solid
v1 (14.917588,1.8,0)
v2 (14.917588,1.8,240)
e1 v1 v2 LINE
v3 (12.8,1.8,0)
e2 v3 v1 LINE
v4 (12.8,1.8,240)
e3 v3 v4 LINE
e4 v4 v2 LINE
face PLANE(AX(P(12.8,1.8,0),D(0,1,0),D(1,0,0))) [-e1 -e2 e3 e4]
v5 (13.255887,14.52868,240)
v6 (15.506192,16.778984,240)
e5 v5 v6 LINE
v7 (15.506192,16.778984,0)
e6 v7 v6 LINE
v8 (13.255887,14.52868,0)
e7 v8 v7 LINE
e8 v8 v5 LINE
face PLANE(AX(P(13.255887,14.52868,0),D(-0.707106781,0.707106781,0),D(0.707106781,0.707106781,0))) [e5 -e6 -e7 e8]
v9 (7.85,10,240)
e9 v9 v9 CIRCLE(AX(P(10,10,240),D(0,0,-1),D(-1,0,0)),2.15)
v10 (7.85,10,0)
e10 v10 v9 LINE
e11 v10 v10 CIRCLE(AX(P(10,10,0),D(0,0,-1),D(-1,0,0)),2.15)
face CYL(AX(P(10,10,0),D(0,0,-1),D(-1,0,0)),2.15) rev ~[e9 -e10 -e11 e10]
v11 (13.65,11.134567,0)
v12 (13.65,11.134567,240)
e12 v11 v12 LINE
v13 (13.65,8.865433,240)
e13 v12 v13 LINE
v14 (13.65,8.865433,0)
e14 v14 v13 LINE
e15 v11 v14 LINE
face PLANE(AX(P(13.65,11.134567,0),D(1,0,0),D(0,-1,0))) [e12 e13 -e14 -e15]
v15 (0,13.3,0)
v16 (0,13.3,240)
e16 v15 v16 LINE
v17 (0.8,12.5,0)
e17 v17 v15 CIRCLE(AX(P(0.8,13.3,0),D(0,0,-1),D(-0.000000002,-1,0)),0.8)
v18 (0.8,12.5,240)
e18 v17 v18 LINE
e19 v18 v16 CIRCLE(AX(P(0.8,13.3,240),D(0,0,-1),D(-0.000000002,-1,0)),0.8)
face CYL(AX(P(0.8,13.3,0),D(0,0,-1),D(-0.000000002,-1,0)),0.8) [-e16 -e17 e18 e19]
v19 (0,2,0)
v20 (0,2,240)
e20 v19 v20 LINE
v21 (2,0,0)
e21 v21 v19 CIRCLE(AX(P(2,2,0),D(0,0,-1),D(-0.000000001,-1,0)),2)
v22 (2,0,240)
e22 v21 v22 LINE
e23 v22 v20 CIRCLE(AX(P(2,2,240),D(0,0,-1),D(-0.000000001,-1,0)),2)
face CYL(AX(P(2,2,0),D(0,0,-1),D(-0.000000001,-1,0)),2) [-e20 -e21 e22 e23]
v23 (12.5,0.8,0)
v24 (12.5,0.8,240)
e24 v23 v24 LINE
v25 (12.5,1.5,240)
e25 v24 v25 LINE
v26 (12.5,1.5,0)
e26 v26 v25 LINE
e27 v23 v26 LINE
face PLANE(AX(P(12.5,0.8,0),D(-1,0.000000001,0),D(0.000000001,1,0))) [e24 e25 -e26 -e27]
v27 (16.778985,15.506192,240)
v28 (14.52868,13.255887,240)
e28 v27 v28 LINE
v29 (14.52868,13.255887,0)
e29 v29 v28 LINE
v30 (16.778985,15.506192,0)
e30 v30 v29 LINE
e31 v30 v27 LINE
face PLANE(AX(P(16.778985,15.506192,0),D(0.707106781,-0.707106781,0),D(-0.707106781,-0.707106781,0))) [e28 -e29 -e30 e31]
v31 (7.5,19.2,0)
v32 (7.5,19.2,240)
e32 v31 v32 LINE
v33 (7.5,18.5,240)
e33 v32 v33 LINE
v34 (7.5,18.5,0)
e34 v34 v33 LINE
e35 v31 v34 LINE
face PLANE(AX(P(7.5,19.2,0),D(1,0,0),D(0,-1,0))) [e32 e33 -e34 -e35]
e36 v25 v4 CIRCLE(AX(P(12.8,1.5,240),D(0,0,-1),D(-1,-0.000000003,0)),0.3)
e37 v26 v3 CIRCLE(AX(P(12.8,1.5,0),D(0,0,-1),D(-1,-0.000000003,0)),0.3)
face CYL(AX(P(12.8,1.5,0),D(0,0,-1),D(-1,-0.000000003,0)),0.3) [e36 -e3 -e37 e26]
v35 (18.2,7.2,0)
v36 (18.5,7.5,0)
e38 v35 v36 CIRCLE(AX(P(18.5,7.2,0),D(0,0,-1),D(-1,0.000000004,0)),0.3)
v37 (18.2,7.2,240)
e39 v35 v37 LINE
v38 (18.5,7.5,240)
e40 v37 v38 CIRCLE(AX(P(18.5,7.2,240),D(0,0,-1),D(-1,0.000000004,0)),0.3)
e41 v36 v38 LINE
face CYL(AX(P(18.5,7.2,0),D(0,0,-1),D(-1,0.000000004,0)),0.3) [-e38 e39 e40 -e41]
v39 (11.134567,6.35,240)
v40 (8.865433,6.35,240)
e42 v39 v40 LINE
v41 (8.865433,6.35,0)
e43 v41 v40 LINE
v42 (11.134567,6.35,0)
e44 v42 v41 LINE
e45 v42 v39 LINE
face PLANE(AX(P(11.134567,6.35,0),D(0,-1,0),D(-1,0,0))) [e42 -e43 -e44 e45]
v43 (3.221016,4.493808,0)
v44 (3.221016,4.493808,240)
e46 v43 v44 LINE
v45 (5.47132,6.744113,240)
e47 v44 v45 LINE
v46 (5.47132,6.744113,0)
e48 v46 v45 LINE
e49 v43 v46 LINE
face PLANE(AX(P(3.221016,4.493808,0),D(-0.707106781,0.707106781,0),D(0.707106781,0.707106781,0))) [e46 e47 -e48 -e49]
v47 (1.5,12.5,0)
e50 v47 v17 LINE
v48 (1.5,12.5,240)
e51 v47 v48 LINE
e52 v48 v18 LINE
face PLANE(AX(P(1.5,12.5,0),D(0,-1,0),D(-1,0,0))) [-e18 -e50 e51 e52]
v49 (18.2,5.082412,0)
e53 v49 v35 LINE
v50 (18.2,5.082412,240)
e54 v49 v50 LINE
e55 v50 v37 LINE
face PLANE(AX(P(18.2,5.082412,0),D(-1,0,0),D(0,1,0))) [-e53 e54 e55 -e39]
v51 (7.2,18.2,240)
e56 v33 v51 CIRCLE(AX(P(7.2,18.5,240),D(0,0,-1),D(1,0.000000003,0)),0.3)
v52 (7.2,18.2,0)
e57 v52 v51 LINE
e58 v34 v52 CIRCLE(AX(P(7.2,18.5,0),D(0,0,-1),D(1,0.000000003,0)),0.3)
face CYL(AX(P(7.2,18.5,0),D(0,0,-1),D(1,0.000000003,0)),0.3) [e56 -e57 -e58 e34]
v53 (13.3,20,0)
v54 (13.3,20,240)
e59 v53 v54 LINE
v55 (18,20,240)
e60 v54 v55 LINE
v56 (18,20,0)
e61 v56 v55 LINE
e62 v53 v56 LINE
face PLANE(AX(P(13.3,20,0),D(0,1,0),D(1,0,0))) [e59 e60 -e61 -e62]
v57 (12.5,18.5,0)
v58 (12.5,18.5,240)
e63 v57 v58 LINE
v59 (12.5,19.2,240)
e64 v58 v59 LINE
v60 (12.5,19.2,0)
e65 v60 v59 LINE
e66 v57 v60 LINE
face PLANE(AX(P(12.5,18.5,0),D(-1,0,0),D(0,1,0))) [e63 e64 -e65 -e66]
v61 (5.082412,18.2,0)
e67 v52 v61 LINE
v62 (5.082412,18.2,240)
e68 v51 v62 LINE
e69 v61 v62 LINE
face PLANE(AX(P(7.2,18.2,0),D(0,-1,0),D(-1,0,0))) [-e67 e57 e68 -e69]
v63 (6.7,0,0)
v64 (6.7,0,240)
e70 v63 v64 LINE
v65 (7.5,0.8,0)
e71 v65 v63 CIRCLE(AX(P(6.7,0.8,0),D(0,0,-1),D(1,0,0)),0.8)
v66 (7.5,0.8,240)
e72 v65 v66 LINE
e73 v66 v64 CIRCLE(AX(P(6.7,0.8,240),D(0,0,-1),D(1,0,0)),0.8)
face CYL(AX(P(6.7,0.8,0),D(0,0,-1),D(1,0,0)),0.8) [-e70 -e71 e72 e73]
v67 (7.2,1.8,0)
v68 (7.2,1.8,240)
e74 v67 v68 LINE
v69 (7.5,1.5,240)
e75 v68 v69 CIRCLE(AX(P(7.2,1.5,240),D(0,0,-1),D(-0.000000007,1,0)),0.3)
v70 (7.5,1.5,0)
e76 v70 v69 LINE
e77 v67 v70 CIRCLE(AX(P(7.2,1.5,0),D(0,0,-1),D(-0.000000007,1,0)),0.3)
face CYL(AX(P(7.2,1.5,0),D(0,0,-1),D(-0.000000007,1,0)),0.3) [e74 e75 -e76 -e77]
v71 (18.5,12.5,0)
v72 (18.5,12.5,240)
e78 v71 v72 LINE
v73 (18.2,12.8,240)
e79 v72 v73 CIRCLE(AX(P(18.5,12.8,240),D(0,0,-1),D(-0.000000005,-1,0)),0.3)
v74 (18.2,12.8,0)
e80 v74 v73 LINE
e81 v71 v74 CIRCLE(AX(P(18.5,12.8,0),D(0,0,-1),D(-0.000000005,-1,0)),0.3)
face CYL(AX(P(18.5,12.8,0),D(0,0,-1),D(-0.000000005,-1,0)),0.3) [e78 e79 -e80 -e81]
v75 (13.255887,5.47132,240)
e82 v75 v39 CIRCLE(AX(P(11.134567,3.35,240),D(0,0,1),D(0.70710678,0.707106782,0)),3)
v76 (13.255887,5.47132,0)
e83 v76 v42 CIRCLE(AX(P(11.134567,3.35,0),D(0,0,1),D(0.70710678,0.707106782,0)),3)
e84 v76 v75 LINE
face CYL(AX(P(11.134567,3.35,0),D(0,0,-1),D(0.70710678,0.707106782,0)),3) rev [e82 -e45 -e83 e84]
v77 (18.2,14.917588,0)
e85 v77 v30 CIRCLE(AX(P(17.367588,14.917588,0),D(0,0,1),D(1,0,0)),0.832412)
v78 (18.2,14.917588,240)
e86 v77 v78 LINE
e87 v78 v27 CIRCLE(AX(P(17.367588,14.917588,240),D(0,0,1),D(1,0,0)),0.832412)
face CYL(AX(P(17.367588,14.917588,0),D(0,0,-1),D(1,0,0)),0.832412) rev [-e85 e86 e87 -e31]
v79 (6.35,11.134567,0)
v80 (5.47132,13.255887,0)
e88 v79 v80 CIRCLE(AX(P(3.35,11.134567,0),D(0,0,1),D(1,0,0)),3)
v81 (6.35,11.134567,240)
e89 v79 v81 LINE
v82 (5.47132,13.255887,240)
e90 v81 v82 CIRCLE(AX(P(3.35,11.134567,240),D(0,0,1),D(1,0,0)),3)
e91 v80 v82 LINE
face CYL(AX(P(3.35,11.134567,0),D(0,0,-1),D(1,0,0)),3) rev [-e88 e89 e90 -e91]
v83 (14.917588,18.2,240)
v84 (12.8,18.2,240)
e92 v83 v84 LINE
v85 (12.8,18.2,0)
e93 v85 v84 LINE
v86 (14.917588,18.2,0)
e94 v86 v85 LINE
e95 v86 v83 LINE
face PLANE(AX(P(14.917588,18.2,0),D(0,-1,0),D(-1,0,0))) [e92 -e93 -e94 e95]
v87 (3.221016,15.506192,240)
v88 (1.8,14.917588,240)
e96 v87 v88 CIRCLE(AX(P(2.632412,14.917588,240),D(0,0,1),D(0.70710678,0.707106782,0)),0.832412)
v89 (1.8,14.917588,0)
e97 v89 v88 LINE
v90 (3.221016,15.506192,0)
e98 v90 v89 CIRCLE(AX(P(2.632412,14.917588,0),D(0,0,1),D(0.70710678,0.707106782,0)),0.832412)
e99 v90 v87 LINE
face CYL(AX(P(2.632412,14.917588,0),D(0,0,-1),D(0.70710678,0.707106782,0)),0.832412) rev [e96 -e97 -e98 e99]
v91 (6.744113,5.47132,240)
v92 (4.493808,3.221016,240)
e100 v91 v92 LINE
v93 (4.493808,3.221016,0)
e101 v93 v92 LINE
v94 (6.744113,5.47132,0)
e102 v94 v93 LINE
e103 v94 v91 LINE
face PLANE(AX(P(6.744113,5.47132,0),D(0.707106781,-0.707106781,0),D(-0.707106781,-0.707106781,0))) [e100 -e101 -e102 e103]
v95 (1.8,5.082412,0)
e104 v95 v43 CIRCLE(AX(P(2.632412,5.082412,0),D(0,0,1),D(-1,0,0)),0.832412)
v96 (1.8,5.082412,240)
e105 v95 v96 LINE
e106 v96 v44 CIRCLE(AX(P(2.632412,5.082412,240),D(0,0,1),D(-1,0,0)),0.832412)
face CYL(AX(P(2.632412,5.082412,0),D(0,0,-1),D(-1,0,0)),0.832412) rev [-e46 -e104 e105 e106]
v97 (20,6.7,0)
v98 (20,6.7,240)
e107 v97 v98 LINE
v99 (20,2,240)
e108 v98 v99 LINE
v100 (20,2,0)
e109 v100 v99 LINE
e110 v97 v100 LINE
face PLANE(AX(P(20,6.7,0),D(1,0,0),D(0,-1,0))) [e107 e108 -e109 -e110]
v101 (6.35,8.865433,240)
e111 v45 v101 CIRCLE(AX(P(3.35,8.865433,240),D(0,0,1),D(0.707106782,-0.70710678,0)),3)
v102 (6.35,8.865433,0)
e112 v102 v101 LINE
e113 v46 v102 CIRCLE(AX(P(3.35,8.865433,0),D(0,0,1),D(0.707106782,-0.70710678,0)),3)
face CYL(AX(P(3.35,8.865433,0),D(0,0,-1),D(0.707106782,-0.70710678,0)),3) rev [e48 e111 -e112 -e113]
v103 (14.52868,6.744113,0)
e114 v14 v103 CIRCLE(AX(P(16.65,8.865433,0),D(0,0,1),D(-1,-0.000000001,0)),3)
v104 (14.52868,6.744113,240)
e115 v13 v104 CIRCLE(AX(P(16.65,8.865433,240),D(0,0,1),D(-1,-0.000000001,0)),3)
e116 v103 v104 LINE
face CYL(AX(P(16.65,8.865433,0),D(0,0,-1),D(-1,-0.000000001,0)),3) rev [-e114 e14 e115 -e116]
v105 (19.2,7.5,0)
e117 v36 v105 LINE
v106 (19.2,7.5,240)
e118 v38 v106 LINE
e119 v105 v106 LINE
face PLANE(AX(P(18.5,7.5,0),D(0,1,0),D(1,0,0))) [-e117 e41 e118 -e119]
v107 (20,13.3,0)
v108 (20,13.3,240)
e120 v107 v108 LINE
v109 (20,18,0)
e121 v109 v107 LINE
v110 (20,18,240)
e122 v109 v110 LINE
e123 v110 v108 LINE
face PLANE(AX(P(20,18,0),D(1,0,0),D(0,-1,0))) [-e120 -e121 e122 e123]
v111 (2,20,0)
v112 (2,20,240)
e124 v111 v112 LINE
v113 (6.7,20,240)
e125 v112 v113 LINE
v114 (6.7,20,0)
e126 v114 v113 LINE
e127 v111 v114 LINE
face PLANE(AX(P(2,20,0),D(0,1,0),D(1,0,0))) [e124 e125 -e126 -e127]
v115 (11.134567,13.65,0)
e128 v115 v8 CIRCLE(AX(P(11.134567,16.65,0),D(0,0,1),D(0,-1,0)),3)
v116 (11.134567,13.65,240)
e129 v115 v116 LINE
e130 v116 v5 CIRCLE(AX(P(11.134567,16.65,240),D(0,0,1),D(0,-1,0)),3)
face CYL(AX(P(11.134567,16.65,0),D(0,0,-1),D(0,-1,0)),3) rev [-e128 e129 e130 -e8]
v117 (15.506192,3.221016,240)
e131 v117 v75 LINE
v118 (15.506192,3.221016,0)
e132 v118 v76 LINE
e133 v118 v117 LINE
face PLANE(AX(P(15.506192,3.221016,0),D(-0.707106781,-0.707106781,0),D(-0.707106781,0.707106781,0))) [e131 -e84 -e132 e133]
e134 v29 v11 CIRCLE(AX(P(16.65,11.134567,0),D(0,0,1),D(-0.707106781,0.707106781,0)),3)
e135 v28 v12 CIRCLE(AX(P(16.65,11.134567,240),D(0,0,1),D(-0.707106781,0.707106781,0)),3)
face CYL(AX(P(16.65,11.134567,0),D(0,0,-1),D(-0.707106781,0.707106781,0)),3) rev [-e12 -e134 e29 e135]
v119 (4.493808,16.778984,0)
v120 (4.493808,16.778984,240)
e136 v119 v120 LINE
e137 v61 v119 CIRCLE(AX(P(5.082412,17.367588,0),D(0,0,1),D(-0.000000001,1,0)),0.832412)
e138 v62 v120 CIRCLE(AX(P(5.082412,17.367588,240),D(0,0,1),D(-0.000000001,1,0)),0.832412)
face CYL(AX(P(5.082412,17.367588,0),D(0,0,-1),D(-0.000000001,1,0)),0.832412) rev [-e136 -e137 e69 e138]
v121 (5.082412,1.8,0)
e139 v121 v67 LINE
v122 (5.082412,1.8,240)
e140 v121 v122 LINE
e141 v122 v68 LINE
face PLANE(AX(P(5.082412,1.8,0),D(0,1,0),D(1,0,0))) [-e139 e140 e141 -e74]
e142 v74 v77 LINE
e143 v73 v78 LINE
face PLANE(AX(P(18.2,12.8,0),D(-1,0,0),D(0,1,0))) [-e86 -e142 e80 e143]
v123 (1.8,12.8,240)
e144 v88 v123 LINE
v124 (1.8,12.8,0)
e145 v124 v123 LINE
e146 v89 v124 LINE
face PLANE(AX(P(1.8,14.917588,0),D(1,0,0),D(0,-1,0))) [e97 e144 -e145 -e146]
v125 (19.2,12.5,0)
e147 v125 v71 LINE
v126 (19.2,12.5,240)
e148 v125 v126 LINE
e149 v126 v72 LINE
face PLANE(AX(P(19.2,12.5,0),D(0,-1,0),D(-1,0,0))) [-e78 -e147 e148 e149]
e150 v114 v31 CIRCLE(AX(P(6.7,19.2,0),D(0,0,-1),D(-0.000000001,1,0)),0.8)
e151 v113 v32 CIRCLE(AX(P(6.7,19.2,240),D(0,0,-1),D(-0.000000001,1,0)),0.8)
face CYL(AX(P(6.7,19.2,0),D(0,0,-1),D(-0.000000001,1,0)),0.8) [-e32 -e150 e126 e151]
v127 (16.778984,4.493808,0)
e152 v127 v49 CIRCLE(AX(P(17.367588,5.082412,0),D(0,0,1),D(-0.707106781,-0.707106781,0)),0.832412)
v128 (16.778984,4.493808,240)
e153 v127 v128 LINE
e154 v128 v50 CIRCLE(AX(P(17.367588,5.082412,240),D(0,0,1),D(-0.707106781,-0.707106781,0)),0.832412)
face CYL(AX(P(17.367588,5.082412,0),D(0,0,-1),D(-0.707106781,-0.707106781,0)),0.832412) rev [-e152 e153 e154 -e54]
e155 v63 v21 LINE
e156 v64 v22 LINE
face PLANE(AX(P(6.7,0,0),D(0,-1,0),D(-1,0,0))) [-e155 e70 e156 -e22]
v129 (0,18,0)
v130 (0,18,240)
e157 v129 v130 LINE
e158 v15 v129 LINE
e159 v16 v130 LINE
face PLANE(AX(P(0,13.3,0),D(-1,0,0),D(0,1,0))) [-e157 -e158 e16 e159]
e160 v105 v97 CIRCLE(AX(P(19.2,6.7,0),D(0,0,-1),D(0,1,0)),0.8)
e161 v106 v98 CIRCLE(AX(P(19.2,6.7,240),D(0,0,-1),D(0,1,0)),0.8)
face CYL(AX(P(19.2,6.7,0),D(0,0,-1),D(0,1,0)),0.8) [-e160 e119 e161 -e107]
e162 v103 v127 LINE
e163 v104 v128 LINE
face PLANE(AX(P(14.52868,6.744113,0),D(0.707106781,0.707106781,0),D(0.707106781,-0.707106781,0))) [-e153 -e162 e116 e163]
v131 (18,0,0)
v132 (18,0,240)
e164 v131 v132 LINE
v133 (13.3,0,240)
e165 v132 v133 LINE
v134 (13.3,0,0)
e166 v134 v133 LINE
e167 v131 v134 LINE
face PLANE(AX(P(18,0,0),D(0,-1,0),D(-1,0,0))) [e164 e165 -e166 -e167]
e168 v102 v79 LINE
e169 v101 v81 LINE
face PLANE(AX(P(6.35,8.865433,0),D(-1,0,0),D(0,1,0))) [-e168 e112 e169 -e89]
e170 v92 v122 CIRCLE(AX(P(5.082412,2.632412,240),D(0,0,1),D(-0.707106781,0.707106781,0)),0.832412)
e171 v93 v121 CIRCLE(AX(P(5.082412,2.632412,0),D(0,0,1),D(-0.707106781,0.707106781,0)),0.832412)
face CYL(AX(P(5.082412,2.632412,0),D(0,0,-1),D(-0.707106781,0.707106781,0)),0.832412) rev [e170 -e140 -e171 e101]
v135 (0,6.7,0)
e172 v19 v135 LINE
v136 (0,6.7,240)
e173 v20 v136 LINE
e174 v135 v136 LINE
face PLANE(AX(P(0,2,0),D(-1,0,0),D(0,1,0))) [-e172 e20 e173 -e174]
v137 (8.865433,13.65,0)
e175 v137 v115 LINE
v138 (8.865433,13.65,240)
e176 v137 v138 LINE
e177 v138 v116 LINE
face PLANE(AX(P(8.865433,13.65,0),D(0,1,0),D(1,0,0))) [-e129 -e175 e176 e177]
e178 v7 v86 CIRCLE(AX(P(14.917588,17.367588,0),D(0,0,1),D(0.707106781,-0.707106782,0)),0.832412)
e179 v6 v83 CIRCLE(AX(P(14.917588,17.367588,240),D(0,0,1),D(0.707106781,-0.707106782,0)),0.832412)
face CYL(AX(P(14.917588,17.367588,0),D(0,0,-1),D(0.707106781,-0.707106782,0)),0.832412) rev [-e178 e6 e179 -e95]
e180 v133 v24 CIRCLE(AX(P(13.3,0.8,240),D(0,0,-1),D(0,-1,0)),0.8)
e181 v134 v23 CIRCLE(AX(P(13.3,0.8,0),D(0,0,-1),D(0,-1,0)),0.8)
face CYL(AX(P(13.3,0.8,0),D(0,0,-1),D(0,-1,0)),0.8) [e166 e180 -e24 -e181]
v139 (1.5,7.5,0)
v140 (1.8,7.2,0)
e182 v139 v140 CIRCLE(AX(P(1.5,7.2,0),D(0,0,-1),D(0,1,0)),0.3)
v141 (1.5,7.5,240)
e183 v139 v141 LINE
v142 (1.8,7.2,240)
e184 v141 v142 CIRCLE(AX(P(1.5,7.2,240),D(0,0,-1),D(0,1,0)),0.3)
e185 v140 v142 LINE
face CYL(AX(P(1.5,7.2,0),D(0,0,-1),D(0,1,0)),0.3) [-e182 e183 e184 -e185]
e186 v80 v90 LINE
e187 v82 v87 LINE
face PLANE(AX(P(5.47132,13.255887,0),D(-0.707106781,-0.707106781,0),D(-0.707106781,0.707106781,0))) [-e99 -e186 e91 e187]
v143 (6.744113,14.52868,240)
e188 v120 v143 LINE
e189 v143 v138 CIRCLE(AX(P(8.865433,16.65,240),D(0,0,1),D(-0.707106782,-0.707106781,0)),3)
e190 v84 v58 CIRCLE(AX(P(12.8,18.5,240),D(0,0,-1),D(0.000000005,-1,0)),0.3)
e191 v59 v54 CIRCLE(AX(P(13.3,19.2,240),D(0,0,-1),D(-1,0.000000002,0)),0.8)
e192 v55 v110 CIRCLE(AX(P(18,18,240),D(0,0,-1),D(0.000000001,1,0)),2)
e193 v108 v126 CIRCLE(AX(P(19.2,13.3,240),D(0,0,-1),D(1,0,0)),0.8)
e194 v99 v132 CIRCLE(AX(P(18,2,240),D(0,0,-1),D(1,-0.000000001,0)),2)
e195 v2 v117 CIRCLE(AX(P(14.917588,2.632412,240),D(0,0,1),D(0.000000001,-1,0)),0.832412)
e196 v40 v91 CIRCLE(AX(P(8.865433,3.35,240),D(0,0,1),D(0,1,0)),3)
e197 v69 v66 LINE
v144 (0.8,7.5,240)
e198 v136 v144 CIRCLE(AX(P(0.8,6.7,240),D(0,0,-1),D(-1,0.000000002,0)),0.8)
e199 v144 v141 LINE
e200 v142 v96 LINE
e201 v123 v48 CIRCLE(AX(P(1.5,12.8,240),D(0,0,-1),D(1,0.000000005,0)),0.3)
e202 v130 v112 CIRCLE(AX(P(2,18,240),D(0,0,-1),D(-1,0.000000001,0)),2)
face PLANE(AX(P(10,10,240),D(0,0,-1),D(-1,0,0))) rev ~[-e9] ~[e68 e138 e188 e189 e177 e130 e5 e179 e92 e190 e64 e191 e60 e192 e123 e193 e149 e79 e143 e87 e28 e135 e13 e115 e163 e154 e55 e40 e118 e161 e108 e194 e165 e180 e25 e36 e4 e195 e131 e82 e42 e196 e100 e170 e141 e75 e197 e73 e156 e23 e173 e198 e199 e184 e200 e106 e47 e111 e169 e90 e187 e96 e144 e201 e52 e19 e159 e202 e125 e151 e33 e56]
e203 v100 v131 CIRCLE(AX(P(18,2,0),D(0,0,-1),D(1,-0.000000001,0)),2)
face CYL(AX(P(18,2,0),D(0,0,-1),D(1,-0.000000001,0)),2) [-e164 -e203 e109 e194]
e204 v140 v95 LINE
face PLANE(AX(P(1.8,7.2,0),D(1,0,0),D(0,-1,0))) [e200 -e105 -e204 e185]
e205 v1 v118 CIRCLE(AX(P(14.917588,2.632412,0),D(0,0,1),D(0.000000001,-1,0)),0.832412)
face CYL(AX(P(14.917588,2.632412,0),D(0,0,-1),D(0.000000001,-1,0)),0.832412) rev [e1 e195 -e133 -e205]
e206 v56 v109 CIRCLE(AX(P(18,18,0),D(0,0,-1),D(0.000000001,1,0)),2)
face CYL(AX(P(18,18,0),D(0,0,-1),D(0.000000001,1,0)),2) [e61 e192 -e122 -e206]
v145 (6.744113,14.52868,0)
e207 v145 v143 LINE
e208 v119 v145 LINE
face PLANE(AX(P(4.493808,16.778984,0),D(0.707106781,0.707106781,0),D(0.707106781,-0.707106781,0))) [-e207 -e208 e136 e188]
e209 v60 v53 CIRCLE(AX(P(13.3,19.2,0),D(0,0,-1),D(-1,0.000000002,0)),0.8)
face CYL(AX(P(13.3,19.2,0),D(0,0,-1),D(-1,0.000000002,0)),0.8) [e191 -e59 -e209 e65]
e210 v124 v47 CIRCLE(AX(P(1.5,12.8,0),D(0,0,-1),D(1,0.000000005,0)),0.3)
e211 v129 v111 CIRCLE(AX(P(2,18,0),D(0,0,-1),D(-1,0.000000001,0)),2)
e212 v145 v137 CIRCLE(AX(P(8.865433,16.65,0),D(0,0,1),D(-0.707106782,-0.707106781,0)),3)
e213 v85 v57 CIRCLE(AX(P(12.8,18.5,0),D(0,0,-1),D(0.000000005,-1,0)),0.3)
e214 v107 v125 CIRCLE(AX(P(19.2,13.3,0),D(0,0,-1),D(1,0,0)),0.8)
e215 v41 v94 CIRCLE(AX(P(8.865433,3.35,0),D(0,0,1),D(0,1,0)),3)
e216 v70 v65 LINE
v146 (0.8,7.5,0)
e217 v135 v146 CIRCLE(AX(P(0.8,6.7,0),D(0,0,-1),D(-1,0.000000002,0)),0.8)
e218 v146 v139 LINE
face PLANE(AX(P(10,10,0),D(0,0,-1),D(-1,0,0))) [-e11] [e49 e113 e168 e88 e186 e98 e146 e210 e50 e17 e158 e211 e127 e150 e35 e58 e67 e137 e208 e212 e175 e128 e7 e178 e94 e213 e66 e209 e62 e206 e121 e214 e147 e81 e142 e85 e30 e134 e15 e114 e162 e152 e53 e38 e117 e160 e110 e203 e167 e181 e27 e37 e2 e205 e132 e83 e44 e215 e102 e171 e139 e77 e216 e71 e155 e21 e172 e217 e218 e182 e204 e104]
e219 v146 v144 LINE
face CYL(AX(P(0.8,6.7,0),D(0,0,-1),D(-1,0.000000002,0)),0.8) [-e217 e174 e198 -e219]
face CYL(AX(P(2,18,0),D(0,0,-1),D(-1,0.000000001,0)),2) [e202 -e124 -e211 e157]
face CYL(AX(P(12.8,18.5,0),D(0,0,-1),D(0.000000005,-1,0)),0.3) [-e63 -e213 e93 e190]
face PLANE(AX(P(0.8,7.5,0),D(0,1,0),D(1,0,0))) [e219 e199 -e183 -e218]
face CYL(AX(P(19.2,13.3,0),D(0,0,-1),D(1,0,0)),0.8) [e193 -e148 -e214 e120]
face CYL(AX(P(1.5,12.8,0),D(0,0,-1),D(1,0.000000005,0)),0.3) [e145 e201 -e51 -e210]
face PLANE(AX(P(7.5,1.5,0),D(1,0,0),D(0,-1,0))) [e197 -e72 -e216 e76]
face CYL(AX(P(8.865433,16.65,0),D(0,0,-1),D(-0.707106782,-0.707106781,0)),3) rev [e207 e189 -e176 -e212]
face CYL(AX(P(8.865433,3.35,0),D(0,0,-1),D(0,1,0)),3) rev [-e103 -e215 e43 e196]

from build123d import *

# Parameters (mm, degrees)
SKETCH1_R           = 2.15
BOSS_EXTRUDE1_DEPTH = 240


with BuildPart() as part:
    # Sketch1 → Boss-Extrude1 (new body)
    with BuildSketch(Plane(origin=(0, 0, 0), x_dir=(-1, 0, 0), z_dir=(0, 0, -1))):
        with BuildLine():
            Line((-12.499999997, 0.800000003), (-12.499999998, 1.500000003))
            ThreePointArc((-12.499999998, 1.500000003), (-12.587867964, 1.712132039), (-12.8, 1.800000005))
            Line((-12.8, 1.800000005), (-14.9175884, 1.800000005))
            ThreePointArc((-14.9175884, 1.800000005), (-15.686636445, 2.313861481), (-15.506192291, 3.221015502))
            Line((-15.506192291, 3.221015502), (-13.255887451, 5.471320342))
            ThreePointArc((-13.255887451, 5.471320342), (-12.282617405, 6.121638595), (-11.134567109, 6.349999998))
            Line((-11.134567109, 6.349999998), (-8.865432906, 6.349999998))
            ThreePointArc((-8.865432906, 6.349999998), (-7.717382611, 6.121638596), (-6.744112565, 5.471320342))
            Line((-6.744112565, 5.471320342), (-4.493807727, 3.221015504))
            ThreePointArc((-4.493807727, 3.221015504), (-4.313363573, 2.313861481), (-5.082411619, 1.800000005))
            Line((-5.082411619, 1.800000005), (-7.20000001, 1.800000005))
            ThreePointArc((-7.20000001, 1.800000005), (-7.412132045, 1.71213204), (-7.50000001, 1.500000005))
            Line((-7.50000001, 1.500000005), (-7.50000001, 0.8))
            ThreePointArc((-7.50000001, 0.8), (-7.265685435, 0.234314575), (-6.70000001, 0))
            Line((-6.70000001, 0), (-2, 0))
            ThreePointArc((-2, 0), (-0.585786438, 0.585786438), (0, 2))
            Line((0, 2), (0, 6.699999998))
            ThreePointArc((0, 6.699999998), (-0.234314576, 7.265685424), (-0.800000003, 7.5))
            Line((-0.800000003, 7.5), (-1.500000007, 7.5))
            ThreePointArc((-1.500000007, 7.5), (-1.712132044, 7.412132033), (-1.80000001, 7.199999997))
            Line((-1.80000001, 7.199999997), (-1.80000001, 5.082411604))
            ThreePointArc((-1.80000001, 5.082411604), (-2.313861485, 4.313363559), (-3.221015507, 4.493807713))
            Line((-3.221015507, 4.493807713), (-5.471320347, 6.744112553))
            ThreePointArc((-5.471320347, 6.744112553), (-6.1216386, 7.717382599), (-6.350000003, 8.865432896))
            Line((-6.350000003, 8.865432896), (-6.350000003, 11.134567105))
            ThreePointArc((-6.350000003, 11.134567105), (-6.121638601, 12.2826174), (-5.471320347, 13.255887446))
            Line((-5.471320347, 13.255887446), (-3.221015511, 15.506192282))
            ThreePointArc((-3.221015511, 15.506192282), (-2.313861487, 15.686636436), (-1.80000001, 14.917588389))
            Line((-1.80000001, 14.917588389), (-1.80000001, 12.799999998))
            ThreePointArc((-1.80000001, 12.799999998), (-1.712132045, 12.587867963), (-1.50000001, 12.499999997))
            Line((-1.50000001, 12.499999997), (-0.8, 12.499999997))
            ThreePointArc((-0.8, 12.499999997), (-0.234314575, 12.734314573), (0, 13.299999998))
            Line((0, 13.299999998), (0, 18))
            ThreePointArc((0, 18), (-0.585786438, 19.414213562), (-2, 20))
            Line((-2, 20), (-6.700000008, 20))
            ThreePointArc((-6.700000008, 20), (-7.265685435, 19.765685424), (-7.50000001, 19.199999998))
            Line((-7.50000001, 19.199999998), (-7.50000001, 18.500000005))
            ThreePointArc((-7.50000001, 18.500000005), (-7.412132044, 18.287867969), (-7.200000008, 18.200000003))
            Line((-7.200000008, 18.200000003), (-5.082411595, 18.200000003))
            ThreePointArc((-5.082411595, 18.200000003), (-4.313363547, 17.686138525), (-4.493807702, 16.7789845))
            Line((-4.493807702, 16.7789845), (-6.744112543, 14.528679659))
            ThreePointArc((-6.744112543, 14.528679659), (-7.717382589, 13.878361405), (-8.865432885, 13.650000003))
            Line((-8.865432885, 13.650000003), (-11.134567111, 13.650000003))
            ThreePointArc((-11.134567111, 13.650000003), (-12.282617406, 13.878361405), (-13.255887452, 14.528679658))
            Line((-13.255887452, 14.528679658), (-15.506192292, 16.778984498))
            ThreePointArc((-15.506192292, 16.778984498), (-15.686636447, 17.686138525), (-14.917588397, 18.200000002))
            Line((-14.917588397, 18.200000002), (-12.799999998, 18.200000003))
            ThreePointArc((-12.799999998, 18.200000003), (-12.587867963, 18.287867968), (-12.499999997, 18.500000002))
            Line((-12.499999997, 18.500000002), (-12.499999997, 19.2))
            ThreePointArc((-12.499999997, 19.2), (-12.734314573, 19.765685425), (-13.299999998, 20))
            Line((-13.299999998, 20), (-18, 20))
            ThreePointArc((-18, 20), (-19.414213562, 19.414213562), (-20, 18))
            Line((-20, 18), (-20, 13.3))
            ThreePointArc((-20, 13.3), (-19.765685424, 12.734314573), (-19.199999998, 12.499999997))
            Line((-19.199999998, 12.499999997), (-18.500000003, 12.499999997))
            ThreePointArc((-18.500000003, 12.499999997), (-18.287867967, 12.587867964), (-18.2, 12.8))
            Line((-18.2, 12.8), (-18.2, 14.91758839))
            ThreePointArc((-18.2, 14.91758839), (-17.686138525, 15.686636435), (-16.778984504, 15.506192281))
            Line((-16.778984504, 15.506192281), (-14.528679657, 13.255887434))
            ThreePointArc((-14.528679657, 13.255887434), (-13.878361403, 12.282617388), (-13.65, 11.134567091))
            Line((-13.65, 11.134567091), (-13.65, 8.865432887))
            ThreePointArc((-13.65, 8.865432887), (-13.878361403, 7.717382591), (-14.528679656, 6.744112546))
            Line((-14.528679656, 6.744112546), (-16.778984496, 4.493807706))
            ThreePointArc((-16.778984496, 4.493807706), (-17.686138522, 4.313363551), (-18.2, 5.0824116))
            Line((-18.2, 5.0824116), (-18.2, 7.2))
            ThreePointArc((-18.2, 7.2), (-18.287867966, 7.412132034), (-18.5, 7.5))
            Line((-18.5, 7.5), (-19.2, 7.5))
            ThreePointArc((-19.2, 7.5), (-19.765685425, 7.265685425), (-20, 6.7))
            Line((-20, 6.7), (-20, 2))
            ThreePointArc((-20, 2), (-19.414213562, 0.585786438), (-18, 0))
            Line((-18, 0), (-13.3, 0))
            ThreePointArc((-13.3, 0), (-12.734314573, 0.234314576), (-12.499999997, 0.800000003))
        make_face()
        with Locations((-10, 10)):
            Circle(SKETCH1_R, mode=Mode.SUBTRACT)
    extrude(amount=-BOSS_EXTRUDE1_DEPTH)


solid = part.part
